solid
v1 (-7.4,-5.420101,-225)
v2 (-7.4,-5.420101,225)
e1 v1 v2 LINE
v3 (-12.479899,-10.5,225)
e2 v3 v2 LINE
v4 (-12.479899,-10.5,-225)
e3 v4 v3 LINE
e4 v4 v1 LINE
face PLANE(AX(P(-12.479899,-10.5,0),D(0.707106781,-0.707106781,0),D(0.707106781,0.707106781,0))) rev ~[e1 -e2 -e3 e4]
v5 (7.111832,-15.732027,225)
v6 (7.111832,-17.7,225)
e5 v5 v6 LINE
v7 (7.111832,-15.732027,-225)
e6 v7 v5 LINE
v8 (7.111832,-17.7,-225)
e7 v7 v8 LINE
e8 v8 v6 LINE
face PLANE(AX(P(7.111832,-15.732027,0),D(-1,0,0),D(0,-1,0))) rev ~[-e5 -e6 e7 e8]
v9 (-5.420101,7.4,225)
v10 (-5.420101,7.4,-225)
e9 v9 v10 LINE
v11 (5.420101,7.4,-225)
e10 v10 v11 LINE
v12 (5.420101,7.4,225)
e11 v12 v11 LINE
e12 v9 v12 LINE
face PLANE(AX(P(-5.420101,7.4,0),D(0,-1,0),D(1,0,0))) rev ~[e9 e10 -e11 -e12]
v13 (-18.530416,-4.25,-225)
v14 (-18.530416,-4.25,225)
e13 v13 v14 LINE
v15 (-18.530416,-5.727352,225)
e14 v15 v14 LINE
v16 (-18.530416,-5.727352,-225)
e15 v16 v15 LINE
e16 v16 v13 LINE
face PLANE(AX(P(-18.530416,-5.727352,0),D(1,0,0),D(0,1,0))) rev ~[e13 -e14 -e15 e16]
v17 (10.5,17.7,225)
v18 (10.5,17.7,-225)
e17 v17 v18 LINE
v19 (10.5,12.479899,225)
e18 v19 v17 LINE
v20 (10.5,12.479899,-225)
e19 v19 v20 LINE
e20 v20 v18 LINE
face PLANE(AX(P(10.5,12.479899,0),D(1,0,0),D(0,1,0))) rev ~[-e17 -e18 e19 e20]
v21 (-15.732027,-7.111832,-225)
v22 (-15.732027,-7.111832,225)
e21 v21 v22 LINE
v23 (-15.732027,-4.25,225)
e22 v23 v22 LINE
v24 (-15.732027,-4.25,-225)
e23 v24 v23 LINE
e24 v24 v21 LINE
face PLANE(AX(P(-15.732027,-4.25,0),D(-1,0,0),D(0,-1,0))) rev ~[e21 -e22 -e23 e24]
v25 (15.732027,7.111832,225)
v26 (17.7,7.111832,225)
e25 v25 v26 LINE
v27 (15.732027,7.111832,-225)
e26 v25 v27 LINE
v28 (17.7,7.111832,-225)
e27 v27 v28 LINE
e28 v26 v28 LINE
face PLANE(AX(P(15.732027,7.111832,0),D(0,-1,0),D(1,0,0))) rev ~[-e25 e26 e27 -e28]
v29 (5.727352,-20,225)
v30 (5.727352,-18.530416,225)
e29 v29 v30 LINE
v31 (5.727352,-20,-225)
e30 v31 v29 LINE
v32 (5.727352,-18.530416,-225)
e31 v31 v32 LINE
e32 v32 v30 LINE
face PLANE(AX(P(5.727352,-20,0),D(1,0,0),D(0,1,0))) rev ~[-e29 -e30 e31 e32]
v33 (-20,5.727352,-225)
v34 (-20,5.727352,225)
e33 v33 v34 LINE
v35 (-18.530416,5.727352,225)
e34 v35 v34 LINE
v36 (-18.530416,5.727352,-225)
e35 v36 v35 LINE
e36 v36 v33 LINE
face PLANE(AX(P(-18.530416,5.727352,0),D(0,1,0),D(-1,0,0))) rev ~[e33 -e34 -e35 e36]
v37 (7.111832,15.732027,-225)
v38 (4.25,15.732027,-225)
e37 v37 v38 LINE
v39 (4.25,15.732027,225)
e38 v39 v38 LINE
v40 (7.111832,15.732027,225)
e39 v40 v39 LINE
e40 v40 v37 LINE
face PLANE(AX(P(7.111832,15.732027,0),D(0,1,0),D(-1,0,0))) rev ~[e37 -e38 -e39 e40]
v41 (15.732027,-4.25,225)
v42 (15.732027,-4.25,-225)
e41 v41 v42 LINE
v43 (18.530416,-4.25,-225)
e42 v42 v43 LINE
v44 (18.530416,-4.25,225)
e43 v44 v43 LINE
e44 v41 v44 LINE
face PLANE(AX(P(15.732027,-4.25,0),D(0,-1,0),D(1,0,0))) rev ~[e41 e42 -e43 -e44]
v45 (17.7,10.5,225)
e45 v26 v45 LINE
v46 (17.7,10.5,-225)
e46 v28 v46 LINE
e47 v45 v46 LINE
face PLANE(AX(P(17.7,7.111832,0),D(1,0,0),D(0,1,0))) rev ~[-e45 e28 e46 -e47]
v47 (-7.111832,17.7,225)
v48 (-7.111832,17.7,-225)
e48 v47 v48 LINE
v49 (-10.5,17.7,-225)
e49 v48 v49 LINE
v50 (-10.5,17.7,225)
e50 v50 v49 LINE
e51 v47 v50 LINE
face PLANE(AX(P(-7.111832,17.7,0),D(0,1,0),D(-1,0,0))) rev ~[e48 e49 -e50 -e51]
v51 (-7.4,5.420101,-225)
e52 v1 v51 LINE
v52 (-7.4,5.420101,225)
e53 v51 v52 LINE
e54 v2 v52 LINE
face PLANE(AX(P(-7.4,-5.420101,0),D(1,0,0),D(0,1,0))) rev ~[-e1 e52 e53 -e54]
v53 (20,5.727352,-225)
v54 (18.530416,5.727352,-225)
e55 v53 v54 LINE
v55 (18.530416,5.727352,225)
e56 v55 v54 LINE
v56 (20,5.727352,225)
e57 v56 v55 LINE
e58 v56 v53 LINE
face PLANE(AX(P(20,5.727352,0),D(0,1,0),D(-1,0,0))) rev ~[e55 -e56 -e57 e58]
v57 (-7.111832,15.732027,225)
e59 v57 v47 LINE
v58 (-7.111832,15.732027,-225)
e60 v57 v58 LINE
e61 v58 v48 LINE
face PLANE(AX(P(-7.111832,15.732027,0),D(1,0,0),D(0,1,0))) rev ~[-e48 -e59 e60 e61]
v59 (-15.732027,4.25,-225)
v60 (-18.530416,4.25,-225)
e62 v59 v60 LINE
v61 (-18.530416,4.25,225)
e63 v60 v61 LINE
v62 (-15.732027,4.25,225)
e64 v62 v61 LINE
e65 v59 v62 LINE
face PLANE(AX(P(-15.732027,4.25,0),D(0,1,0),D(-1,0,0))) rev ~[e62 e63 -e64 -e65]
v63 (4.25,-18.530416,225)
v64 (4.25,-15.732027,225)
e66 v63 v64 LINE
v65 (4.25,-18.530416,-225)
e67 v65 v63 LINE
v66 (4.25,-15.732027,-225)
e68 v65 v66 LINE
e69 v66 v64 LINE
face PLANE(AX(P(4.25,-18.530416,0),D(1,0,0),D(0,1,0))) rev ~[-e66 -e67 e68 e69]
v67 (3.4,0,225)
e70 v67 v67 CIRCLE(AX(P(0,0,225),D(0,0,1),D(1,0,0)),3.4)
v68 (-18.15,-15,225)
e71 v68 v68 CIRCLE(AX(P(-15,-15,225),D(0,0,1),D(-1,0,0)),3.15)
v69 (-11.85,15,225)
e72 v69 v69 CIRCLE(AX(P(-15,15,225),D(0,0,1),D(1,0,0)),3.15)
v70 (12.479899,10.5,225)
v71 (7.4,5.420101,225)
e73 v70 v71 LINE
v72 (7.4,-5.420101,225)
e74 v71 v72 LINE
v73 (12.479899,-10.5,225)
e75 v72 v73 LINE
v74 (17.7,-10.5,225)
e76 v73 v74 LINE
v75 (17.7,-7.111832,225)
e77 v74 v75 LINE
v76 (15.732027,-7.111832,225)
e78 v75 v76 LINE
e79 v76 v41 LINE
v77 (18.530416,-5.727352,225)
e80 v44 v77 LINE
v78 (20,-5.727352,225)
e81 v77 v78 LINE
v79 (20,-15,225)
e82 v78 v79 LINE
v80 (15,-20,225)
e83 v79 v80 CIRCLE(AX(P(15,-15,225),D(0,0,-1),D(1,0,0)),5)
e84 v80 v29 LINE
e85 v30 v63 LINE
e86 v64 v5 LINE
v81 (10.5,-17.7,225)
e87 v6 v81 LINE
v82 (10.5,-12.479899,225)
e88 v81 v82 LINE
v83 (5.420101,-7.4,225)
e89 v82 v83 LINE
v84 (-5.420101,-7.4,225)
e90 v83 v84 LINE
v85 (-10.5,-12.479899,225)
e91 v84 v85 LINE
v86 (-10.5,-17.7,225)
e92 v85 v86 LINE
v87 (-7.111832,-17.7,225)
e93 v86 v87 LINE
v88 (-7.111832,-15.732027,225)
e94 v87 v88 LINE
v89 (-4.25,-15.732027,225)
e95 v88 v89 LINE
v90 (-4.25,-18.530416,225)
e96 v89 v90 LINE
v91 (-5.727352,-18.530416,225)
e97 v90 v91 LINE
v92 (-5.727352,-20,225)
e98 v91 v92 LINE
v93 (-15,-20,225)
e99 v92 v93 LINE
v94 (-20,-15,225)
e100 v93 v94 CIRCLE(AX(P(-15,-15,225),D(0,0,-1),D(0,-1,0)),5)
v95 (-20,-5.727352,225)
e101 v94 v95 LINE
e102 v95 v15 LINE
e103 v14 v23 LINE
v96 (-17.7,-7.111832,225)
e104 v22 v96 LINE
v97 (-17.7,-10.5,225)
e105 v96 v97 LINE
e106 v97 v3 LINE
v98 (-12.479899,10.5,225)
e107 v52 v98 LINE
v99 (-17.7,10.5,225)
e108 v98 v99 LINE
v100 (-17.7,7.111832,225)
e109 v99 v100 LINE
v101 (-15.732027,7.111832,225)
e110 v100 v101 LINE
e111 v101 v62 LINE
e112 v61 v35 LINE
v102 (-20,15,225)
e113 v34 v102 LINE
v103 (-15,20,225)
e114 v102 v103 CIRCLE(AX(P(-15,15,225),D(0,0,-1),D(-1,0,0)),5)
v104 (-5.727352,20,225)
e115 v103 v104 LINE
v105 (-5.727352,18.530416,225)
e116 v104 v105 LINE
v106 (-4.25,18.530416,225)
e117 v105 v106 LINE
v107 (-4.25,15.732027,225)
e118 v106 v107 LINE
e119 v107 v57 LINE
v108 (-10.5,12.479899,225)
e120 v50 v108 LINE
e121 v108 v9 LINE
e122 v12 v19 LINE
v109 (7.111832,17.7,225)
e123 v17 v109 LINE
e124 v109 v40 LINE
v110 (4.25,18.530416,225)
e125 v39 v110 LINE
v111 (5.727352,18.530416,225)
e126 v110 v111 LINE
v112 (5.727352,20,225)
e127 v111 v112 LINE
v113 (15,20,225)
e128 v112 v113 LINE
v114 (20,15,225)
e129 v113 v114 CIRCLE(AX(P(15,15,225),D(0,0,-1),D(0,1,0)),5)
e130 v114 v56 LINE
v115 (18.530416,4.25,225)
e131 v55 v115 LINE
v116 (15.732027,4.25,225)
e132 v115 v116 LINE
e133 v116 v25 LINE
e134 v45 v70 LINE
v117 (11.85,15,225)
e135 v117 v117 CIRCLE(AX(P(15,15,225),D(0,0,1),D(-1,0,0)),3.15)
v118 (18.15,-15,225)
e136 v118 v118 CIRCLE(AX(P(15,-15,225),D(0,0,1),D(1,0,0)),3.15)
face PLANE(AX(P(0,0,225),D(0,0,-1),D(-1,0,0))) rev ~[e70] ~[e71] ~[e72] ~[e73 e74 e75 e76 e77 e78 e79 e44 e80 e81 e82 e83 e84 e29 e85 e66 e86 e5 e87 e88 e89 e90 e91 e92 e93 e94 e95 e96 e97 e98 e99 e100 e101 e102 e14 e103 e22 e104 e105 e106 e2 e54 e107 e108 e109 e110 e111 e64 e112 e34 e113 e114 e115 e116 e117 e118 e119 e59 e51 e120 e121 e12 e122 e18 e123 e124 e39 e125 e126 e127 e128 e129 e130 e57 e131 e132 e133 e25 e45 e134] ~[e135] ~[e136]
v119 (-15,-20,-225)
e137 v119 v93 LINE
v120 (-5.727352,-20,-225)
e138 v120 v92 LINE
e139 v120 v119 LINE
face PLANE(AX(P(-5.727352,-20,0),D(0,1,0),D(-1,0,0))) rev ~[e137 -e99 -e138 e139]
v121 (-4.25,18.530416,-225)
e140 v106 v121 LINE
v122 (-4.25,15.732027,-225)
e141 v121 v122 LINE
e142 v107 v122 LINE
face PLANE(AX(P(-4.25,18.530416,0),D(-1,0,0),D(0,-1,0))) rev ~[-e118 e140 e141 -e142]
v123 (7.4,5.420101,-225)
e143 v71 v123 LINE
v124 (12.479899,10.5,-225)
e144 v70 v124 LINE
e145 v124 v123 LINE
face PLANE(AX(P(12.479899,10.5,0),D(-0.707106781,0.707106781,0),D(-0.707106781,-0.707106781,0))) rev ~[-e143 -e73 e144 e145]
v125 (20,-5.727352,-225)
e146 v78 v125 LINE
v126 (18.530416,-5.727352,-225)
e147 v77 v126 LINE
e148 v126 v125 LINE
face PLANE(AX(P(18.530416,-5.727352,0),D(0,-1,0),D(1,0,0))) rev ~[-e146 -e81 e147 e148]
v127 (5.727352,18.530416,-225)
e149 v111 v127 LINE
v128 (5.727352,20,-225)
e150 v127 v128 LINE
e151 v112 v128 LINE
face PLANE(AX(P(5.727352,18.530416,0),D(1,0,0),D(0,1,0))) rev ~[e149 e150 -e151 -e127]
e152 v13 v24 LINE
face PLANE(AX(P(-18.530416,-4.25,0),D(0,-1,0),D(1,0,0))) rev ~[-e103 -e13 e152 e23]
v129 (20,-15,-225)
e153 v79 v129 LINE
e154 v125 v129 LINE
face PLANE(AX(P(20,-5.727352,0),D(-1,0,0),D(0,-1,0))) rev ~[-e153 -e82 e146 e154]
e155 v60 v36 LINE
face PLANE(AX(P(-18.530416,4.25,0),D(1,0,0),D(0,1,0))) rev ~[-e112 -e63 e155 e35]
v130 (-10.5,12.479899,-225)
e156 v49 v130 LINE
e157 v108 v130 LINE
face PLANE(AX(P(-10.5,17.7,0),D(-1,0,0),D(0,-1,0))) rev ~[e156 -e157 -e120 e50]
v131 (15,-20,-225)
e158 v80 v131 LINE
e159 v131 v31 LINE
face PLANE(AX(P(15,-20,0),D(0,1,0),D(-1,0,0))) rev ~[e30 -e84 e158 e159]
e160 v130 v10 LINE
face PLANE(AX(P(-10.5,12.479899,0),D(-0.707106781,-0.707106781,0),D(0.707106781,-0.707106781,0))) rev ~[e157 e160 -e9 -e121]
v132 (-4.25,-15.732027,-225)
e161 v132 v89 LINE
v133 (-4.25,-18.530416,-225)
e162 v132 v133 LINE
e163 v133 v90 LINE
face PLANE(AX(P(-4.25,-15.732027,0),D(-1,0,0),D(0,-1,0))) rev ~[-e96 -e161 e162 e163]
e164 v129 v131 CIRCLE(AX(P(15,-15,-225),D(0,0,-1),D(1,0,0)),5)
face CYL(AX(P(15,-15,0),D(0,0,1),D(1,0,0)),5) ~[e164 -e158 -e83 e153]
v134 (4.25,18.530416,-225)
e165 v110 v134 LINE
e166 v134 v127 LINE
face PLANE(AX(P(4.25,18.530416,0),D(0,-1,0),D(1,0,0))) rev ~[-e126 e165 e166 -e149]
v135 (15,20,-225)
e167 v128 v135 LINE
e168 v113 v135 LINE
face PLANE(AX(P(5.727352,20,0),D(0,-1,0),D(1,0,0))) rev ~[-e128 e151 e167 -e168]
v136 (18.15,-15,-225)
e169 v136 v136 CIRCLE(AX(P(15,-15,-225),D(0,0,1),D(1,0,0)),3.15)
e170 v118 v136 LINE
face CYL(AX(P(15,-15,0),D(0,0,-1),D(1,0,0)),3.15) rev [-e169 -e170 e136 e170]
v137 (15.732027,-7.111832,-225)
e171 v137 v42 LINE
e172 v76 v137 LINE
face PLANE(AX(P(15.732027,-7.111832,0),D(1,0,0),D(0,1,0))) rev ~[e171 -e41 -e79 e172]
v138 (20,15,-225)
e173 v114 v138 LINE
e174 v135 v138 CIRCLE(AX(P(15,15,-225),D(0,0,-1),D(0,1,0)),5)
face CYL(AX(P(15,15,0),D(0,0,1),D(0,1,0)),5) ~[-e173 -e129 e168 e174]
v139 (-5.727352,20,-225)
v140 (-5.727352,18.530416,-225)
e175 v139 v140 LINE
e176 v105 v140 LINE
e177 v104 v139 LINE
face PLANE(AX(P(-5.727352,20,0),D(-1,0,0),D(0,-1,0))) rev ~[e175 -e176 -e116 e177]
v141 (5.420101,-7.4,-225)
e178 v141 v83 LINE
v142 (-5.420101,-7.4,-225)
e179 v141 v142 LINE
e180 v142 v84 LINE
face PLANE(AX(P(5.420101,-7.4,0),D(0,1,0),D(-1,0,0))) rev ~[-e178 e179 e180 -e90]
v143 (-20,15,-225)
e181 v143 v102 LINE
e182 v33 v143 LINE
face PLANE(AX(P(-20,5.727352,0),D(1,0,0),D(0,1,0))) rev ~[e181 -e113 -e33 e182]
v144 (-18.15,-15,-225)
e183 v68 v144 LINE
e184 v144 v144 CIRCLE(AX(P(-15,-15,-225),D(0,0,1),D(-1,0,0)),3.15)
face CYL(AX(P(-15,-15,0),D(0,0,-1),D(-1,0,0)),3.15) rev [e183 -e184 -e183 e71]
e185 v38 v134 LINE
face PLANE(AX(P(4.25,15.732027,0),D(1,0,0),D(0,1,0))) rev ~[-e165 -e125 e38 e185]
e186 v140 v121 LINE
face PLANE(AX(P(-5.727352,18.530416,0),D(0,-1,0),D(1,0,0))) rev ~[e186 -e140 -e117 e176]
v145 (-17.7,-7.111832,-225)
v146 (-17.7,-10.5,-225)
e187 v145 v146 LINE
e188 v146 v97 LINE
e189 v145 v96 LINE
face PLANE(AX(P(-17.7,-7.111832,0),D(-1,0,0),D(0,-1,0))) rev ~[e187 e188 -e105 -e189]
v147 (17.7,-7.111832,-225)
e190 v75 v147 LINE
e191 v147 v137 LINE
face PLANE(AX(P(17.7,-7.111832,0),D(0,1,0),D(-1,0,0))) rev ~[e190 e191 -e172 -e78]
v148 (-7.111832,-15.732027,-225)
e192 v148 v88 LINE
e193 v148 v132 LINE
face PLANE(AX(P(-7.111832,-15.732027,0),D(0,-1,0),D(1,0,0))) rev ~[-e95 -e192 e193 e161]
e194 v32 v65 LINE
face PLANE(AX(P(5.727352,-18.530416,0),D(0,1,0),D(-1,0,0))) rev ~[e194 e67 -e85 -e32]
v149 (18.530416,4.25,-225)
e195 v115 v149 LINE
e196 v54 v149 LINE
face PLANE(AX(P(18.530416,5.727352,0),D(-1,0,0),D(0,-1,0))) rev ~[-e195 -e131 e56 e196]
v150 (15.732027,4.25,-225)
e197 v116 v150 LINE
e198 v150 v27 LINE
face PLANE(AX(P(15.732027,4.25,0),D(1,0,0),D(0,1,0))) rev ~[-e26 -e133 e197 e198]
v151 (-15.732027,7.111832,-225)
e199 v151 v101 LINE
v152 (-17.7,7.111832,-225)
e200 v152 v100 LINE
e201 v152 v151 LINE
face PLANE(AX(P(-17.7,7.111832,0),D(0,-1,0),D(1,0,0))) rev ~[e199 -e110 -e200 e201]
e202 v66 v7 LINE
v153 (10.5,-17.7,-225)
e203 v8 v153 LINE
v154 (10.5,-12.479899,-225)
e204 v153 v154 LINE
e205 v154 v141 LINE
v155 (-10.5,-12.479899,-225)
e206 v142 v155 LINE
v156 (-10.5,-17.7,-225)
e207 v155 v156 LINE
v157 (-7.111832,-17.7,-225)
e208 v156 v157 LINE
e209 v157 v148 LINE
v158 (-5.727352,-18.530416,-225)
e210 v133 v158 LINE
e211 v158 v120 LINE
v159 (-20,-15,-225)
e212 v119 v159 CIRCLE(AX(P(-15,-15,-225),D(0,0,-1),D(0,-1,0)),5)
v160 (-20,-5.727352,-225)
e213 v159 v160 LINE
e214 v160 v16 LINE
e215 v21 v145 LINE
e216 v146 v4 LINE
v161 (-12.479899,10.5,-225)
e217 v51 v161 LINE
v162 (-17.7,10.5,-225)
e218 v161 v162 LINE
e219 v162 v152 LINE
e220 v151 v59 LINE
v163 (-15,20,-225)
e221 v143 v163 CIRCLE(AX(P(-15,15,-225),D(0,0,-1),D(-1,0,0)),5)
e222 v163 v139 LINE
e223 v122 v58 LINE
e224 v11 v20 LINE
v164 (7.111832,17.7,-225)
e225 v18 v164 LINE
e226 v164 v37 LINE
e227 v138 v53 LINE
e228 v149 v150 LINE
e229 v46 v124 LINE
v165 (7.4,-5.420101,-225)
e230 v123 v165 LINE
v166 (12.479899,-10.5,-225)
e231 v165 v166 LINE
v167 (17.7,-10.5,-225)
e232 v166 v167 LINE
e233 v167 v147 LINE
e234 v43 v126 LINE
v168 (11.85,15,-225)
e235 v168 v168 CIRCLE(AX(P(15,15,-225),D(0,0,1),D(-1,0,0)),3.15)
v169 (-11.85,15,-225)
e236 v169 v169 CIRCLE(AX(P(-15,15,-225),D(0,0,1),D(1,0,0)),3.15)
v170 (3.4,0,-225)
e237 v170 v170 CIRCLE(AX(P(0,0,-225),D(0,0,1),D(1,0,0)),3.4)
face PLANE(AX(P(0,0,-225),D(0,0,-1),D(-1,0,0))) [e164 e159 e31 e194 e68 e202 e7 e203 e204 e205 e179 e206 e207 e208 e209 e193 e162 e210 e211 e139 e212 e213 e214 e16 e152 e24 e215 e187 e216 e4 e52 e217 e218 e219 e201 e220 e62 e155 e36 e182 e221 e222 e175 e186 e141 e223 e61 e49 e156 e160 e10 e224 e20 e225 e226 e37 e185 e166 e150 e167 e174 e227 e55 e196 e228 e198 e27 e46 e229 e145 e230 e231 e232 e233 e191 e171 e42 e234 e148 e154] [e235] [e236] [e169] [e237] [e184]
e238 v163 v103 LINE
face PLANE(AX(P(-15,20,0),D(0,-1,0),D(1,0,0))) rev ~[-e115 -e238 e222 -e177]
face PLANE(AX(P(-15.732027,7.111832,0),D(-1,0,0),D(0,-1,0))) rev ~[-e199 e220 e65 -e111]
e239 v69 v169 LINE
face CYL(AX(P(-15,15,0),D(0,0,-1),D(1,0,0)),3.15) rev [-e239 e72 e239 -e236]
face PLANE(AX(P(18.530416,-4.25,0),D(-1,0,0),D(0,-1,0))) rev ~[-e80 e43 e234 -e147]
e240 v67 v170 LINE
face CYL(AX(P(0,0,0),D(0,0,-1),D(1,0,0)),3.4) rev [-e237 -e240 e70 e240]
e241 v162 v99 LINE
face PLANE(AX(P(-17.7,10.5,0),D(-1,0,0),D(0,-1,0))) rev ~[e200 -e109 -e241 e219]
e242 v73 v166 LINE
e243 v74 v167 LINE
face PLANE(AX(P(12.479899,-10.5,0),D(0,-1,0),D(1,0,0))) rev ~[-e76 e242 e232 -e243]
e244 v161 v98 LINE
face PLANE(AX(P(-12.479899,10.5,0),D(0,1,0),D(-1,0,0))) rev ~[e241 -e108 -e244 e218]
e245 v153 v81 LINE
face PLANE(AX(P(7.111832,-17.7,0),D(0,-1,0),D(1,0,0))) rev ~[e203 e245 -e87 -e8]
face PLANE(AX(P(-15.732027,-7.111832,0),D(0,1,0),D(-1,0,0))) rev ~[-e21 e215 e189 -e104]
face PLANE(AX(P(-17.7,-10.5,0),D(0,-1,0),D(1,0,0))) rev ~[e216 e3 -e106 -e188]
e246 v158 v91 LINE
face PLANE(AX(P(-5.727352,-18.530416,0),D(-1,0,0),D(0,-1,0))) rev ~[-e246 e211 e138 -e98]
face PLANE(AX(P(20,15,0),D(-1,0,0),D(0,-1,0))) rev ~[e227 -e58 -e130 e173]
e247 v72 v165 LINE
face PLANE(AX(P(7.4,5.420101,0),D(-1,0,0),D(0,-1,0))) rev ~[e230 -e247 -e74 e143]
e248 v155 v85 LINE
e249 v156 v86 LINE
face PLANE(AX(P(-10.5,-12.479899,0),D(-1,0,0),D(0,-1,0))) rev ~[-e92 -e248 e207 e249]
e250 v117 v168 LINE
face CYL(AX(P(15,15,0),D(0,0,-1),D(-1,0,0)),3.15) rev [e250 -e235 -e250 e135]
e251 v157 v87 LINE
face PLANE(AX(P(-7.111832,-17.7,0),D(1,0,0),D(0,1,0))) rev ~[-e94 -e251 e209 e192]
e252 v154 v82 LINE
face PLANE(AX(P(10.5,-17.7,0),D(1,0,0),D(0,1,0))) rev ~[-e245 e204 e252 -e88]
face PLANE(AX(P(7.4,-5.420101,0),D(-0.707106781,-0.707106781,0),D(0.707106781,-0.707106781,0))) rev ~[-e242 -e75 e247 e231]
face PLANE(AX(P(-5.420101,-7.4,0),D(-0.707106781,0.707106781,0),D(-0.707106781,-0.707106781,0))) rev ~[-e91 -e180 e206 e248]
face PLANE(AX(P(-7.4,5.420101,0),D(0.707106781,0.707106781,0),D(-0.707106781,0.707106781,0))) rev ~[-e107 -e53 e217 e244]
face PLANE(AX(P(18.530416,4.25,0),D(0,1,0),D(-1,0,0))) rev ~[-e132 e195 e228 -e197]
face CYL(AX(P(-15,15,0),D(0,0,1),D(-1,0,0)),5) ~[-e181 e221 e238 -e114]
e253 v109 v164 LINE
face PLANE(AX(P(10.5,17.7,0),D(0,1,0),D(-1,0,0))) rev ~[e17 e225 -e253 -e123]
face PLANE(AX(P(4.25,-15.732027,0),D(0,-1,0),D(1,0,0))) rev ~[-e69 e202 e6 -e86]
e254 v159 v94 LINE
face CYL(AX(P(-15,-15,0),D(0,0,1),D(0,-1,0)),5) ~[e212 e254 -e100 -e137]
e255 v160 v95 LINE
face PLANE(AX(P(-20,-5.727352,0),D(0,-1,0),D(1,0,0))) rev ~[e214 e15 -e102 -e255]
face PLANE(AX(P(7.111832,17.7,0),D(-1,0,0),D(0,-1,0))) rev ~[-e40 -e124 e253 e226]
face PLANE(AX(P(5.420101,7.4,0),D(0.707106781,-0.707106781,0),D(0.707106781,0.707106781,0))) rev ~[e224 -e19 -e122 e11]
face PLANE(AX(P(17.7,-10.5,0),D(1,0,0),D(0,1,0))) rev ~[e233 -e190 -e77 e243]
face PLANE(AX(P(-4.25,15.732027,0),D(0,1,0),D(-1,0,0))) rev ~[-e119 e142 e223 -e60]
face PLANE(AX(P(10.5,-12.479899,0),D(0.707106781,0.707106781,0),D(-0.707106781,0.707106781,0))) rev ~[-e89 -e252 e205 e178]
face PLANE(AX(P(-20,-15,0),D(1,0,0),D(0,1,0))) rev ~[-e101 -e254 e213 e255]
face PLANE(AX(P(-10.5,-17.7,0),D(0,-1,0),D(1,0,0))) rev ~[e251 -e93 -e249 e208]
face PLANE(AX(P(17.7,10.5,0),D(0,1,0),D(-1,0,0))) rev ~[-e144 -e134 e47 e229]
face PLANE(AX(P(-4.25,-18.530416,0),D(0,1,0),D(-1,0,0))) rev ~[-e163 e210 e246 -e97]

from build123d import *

# Parameters (mm, degrees)
SKETCH_1_R      = 3.4
SKETCH_1_R_2    = 3.15
EXTRUDE_1_DEPTH = 225


with BuildPart() as part:
    # Эскиз1 → Бобышка-Вытянуть1 (new, symmetric)
    with BuildSketch(Plane.XY):
        with BuildLine():
            Line((-15, 20), (-5.727351849, 20))
            Line((-5.727351849, 20), (-5.727351849, 18.530416438))
            Line((-5.727351849, 18.530416438), (-4.25, 18.530416438))
            Line((-4.25, 18.530416438), (-4.25, 15.732027397))
            Line((-4.25, 15.732027397), (-7.111831817, 15.732027397))
            Line((-7.111831817, 15.732027397), (-7.111831817, 17.7))
            Line((-7.111831817, 17.7), (-10.5, 17.7))
            Line((-10.5, 17.7), (-10.5, 12.479898987))
            Line((-10.5, 12.479898987), (-5.420101013, 7.4))
            Line((-5.420101013, 7.4), (5.420101013, 7.4))
            Line((5.420101013, 7.4), (10.5, 12.479898987))
            Line((10.5, 12.479898987), (10.5, 17.7))
            Line((10.5, 17.7), (7.111831817, 17.7))
            Line((7.111831817, 17.7), (7.111831817, 15.732027397))
            Line((7.111831817, 15.732027397), (4.25, 15.732027397))
            Line((4.25, 15.732027397), (4.25, 18.530416438))
            Line((4.25, 18.530416438), (5.727351849, 18.530416438))
            Line((5.727351849, 18.530416438), (5.727351849, 20))
            Line((5.727351849, 20), (15, 20))
            ThreePointArc((15, 20), (18.535533906, 18.535533906), (20, 15))
            Line((20, 15), (20, 5.727351849))
            Line((20, 5.727351849), (18.530416438, 5.727351849))
            Line((18.530416438, 5.727351849), (18.530416438, 4.25))
            Line((18.530416438, 4.25), (15.732027397, 4.25))
            Line((15.732027397, 4.25), (15.732027397, 7.111831817))
            Line((15.732027397, 7.111831817), (17.7, 7.111831817))
            Line((17.7, 7.111831817), (17.7, 10.5))
            Line((17.7, 10.5), (12.479898987, 10.5))
            Line((12.479898987, 10.5), (7.4, 5.420101013))
            Line((7.4, 5.420101013), (7.4, -5.420101013))
            Line((7.4, -5.420101013), (12.479898987, -10.5))
            Line((12.479898987, -10.5), (17.7, -10.5))
            Line((17.7, -10.5), (17.7, -7.111831817))
            Line((17.7, -7.111831817), (15.732027397, -7.111831817))
            Line((15.732027397, -7.111831817), (15.732027397, -4.25))
            Line((15.732027397, -4.25), (18.530416438, -4.25))
            Line((18.530416438, -4.25), (18.530416438, -5.727351849))
            Line((18.530416438, -5.727351849), (20, -5.727351849))
            Line((20, -5.727351849), (20, -15))
            ThreePointArc((20, -15), (18.535533906, -18.535533906), (15, -20))
            Line((15, -20), (5.727351849, -20))
            Line((5.727351849, -20), (5.727351849, -18.530416438))
            Line((5.727351849, -18.530416438), (4.25, -18.530416438))
            Line((4.25, -18.530416438), (4.25, -15.732027397))
            Line((4.25, -15.732027397), (7.111831817, -15.732027397))
            Line((7.111831817, -15.732027397), (7.111831817, -17.7))
            Line((7.111831817, -17.7), (10.5, -17.7))
            Line((10.5, -17.7), (10.5, -12.479898987))
            Line((10.5, -12.479898987), (5.420101013, -7.4))
            Line((5.420101013, -7.4), (-5.420101013, -7.4))
            Line((-5.420101013, -7.4), (-10.5, -12.479898987))
            Line((-10.5, -12.479898987), (-10.5, -17.7))
            Line((-10.5, -17.7), (-7.111831817, -17.7))
            Line((-7.111831817, -17.7), (-7.111831817, -15.732027397))
            Line((-7.111831817, -15.732027397), (-4.25, -15.732027397))
            Line((-4.25, -15.732027397), (-4.25, -18.530416438))
            Line((-4.25, -18.530416438), (-5.727351849, -18.530416438))
            Line((-5.727351849, -18.530416438), (-5.727351849, -20))
            Line((-5.727351849, -20), (-15, -20))
            ThreePointArc((-15, -20), (-18.535533906, -18.535533906), (-20, -15))
            Line((-20, -15), (-20, -5.727351849))
            Line((-20, -5.727351849), (-18.530416438, -5.727351849))
            Line((-18.530416438, -5.727351849), (-18.530416438, -4.25))
            Line((-18.530416438, -4.25), (-15.732027397, -4.25))
            Line((-15.732027397, -4.25), (-15.732027397, -7.111831817))
            Line((-15.732027397, -7.111831817), (-17.7, -7.111831817))
            Line((-17.7, -7.111831817), (-17.7, -10.5))
            Line((-17.7, -10.5), (-12.479898987, -10.5))
            Line((-12.479898987, -10.5), (-7.4, -5.420101013))
            Line((-7.4, -5.420101013), (-7.4, 5.420101013))
            Line((-7.4, 5.420101013), (-12.479898987, 10.5))
            Line((-12.479898987, 10.5), (-17.7, 10.5))
            Line((-17.7, 10.5), (-17.7, 7.111831817))
            Line((-17.7, 7.111831817), (-15.732027397, 7.111831817))
            Line((-15.732027397, 7.111831817), (-15.732027397, 4.25))
            Line((-15.732027397, 4.25), (-18.530416438, 4.25))
            Line((-18.530416438, 4.25), (-18.530416438, 5.727351849))
            Line((-18.530416438, 5.727351849), (-20, 5.727351849))
            Line((-20, 5.727351849), (-20, 15))
            ThreePointArc((-20, 15), (-18.535533906, 18.535533906), (-15, 20))
        make_face()
        Circle(SKETCH_1_R, mode=Mode.SUBTRACT)
        with Locations((-15, 15)):
            Circle(SKETCH_1_R_2, mode=Mode.SUBTRACT)
        with Locations((15, 15)):
            Circle(SKETCH_1_R_2, mode=Mode.SUBTRACT)
        with Locations((15, -15)):
            Circle(SKETCH_1_R_2, mode=Mode.SUBTRACT)
        with Locations((-15, -15)):
            Circle(SKETCH_1_R_2, mode=Mode.SUBTRACT)
    extrude(amount=EXTRUDE_1_DEPTH, both=True)


solid = part.part
